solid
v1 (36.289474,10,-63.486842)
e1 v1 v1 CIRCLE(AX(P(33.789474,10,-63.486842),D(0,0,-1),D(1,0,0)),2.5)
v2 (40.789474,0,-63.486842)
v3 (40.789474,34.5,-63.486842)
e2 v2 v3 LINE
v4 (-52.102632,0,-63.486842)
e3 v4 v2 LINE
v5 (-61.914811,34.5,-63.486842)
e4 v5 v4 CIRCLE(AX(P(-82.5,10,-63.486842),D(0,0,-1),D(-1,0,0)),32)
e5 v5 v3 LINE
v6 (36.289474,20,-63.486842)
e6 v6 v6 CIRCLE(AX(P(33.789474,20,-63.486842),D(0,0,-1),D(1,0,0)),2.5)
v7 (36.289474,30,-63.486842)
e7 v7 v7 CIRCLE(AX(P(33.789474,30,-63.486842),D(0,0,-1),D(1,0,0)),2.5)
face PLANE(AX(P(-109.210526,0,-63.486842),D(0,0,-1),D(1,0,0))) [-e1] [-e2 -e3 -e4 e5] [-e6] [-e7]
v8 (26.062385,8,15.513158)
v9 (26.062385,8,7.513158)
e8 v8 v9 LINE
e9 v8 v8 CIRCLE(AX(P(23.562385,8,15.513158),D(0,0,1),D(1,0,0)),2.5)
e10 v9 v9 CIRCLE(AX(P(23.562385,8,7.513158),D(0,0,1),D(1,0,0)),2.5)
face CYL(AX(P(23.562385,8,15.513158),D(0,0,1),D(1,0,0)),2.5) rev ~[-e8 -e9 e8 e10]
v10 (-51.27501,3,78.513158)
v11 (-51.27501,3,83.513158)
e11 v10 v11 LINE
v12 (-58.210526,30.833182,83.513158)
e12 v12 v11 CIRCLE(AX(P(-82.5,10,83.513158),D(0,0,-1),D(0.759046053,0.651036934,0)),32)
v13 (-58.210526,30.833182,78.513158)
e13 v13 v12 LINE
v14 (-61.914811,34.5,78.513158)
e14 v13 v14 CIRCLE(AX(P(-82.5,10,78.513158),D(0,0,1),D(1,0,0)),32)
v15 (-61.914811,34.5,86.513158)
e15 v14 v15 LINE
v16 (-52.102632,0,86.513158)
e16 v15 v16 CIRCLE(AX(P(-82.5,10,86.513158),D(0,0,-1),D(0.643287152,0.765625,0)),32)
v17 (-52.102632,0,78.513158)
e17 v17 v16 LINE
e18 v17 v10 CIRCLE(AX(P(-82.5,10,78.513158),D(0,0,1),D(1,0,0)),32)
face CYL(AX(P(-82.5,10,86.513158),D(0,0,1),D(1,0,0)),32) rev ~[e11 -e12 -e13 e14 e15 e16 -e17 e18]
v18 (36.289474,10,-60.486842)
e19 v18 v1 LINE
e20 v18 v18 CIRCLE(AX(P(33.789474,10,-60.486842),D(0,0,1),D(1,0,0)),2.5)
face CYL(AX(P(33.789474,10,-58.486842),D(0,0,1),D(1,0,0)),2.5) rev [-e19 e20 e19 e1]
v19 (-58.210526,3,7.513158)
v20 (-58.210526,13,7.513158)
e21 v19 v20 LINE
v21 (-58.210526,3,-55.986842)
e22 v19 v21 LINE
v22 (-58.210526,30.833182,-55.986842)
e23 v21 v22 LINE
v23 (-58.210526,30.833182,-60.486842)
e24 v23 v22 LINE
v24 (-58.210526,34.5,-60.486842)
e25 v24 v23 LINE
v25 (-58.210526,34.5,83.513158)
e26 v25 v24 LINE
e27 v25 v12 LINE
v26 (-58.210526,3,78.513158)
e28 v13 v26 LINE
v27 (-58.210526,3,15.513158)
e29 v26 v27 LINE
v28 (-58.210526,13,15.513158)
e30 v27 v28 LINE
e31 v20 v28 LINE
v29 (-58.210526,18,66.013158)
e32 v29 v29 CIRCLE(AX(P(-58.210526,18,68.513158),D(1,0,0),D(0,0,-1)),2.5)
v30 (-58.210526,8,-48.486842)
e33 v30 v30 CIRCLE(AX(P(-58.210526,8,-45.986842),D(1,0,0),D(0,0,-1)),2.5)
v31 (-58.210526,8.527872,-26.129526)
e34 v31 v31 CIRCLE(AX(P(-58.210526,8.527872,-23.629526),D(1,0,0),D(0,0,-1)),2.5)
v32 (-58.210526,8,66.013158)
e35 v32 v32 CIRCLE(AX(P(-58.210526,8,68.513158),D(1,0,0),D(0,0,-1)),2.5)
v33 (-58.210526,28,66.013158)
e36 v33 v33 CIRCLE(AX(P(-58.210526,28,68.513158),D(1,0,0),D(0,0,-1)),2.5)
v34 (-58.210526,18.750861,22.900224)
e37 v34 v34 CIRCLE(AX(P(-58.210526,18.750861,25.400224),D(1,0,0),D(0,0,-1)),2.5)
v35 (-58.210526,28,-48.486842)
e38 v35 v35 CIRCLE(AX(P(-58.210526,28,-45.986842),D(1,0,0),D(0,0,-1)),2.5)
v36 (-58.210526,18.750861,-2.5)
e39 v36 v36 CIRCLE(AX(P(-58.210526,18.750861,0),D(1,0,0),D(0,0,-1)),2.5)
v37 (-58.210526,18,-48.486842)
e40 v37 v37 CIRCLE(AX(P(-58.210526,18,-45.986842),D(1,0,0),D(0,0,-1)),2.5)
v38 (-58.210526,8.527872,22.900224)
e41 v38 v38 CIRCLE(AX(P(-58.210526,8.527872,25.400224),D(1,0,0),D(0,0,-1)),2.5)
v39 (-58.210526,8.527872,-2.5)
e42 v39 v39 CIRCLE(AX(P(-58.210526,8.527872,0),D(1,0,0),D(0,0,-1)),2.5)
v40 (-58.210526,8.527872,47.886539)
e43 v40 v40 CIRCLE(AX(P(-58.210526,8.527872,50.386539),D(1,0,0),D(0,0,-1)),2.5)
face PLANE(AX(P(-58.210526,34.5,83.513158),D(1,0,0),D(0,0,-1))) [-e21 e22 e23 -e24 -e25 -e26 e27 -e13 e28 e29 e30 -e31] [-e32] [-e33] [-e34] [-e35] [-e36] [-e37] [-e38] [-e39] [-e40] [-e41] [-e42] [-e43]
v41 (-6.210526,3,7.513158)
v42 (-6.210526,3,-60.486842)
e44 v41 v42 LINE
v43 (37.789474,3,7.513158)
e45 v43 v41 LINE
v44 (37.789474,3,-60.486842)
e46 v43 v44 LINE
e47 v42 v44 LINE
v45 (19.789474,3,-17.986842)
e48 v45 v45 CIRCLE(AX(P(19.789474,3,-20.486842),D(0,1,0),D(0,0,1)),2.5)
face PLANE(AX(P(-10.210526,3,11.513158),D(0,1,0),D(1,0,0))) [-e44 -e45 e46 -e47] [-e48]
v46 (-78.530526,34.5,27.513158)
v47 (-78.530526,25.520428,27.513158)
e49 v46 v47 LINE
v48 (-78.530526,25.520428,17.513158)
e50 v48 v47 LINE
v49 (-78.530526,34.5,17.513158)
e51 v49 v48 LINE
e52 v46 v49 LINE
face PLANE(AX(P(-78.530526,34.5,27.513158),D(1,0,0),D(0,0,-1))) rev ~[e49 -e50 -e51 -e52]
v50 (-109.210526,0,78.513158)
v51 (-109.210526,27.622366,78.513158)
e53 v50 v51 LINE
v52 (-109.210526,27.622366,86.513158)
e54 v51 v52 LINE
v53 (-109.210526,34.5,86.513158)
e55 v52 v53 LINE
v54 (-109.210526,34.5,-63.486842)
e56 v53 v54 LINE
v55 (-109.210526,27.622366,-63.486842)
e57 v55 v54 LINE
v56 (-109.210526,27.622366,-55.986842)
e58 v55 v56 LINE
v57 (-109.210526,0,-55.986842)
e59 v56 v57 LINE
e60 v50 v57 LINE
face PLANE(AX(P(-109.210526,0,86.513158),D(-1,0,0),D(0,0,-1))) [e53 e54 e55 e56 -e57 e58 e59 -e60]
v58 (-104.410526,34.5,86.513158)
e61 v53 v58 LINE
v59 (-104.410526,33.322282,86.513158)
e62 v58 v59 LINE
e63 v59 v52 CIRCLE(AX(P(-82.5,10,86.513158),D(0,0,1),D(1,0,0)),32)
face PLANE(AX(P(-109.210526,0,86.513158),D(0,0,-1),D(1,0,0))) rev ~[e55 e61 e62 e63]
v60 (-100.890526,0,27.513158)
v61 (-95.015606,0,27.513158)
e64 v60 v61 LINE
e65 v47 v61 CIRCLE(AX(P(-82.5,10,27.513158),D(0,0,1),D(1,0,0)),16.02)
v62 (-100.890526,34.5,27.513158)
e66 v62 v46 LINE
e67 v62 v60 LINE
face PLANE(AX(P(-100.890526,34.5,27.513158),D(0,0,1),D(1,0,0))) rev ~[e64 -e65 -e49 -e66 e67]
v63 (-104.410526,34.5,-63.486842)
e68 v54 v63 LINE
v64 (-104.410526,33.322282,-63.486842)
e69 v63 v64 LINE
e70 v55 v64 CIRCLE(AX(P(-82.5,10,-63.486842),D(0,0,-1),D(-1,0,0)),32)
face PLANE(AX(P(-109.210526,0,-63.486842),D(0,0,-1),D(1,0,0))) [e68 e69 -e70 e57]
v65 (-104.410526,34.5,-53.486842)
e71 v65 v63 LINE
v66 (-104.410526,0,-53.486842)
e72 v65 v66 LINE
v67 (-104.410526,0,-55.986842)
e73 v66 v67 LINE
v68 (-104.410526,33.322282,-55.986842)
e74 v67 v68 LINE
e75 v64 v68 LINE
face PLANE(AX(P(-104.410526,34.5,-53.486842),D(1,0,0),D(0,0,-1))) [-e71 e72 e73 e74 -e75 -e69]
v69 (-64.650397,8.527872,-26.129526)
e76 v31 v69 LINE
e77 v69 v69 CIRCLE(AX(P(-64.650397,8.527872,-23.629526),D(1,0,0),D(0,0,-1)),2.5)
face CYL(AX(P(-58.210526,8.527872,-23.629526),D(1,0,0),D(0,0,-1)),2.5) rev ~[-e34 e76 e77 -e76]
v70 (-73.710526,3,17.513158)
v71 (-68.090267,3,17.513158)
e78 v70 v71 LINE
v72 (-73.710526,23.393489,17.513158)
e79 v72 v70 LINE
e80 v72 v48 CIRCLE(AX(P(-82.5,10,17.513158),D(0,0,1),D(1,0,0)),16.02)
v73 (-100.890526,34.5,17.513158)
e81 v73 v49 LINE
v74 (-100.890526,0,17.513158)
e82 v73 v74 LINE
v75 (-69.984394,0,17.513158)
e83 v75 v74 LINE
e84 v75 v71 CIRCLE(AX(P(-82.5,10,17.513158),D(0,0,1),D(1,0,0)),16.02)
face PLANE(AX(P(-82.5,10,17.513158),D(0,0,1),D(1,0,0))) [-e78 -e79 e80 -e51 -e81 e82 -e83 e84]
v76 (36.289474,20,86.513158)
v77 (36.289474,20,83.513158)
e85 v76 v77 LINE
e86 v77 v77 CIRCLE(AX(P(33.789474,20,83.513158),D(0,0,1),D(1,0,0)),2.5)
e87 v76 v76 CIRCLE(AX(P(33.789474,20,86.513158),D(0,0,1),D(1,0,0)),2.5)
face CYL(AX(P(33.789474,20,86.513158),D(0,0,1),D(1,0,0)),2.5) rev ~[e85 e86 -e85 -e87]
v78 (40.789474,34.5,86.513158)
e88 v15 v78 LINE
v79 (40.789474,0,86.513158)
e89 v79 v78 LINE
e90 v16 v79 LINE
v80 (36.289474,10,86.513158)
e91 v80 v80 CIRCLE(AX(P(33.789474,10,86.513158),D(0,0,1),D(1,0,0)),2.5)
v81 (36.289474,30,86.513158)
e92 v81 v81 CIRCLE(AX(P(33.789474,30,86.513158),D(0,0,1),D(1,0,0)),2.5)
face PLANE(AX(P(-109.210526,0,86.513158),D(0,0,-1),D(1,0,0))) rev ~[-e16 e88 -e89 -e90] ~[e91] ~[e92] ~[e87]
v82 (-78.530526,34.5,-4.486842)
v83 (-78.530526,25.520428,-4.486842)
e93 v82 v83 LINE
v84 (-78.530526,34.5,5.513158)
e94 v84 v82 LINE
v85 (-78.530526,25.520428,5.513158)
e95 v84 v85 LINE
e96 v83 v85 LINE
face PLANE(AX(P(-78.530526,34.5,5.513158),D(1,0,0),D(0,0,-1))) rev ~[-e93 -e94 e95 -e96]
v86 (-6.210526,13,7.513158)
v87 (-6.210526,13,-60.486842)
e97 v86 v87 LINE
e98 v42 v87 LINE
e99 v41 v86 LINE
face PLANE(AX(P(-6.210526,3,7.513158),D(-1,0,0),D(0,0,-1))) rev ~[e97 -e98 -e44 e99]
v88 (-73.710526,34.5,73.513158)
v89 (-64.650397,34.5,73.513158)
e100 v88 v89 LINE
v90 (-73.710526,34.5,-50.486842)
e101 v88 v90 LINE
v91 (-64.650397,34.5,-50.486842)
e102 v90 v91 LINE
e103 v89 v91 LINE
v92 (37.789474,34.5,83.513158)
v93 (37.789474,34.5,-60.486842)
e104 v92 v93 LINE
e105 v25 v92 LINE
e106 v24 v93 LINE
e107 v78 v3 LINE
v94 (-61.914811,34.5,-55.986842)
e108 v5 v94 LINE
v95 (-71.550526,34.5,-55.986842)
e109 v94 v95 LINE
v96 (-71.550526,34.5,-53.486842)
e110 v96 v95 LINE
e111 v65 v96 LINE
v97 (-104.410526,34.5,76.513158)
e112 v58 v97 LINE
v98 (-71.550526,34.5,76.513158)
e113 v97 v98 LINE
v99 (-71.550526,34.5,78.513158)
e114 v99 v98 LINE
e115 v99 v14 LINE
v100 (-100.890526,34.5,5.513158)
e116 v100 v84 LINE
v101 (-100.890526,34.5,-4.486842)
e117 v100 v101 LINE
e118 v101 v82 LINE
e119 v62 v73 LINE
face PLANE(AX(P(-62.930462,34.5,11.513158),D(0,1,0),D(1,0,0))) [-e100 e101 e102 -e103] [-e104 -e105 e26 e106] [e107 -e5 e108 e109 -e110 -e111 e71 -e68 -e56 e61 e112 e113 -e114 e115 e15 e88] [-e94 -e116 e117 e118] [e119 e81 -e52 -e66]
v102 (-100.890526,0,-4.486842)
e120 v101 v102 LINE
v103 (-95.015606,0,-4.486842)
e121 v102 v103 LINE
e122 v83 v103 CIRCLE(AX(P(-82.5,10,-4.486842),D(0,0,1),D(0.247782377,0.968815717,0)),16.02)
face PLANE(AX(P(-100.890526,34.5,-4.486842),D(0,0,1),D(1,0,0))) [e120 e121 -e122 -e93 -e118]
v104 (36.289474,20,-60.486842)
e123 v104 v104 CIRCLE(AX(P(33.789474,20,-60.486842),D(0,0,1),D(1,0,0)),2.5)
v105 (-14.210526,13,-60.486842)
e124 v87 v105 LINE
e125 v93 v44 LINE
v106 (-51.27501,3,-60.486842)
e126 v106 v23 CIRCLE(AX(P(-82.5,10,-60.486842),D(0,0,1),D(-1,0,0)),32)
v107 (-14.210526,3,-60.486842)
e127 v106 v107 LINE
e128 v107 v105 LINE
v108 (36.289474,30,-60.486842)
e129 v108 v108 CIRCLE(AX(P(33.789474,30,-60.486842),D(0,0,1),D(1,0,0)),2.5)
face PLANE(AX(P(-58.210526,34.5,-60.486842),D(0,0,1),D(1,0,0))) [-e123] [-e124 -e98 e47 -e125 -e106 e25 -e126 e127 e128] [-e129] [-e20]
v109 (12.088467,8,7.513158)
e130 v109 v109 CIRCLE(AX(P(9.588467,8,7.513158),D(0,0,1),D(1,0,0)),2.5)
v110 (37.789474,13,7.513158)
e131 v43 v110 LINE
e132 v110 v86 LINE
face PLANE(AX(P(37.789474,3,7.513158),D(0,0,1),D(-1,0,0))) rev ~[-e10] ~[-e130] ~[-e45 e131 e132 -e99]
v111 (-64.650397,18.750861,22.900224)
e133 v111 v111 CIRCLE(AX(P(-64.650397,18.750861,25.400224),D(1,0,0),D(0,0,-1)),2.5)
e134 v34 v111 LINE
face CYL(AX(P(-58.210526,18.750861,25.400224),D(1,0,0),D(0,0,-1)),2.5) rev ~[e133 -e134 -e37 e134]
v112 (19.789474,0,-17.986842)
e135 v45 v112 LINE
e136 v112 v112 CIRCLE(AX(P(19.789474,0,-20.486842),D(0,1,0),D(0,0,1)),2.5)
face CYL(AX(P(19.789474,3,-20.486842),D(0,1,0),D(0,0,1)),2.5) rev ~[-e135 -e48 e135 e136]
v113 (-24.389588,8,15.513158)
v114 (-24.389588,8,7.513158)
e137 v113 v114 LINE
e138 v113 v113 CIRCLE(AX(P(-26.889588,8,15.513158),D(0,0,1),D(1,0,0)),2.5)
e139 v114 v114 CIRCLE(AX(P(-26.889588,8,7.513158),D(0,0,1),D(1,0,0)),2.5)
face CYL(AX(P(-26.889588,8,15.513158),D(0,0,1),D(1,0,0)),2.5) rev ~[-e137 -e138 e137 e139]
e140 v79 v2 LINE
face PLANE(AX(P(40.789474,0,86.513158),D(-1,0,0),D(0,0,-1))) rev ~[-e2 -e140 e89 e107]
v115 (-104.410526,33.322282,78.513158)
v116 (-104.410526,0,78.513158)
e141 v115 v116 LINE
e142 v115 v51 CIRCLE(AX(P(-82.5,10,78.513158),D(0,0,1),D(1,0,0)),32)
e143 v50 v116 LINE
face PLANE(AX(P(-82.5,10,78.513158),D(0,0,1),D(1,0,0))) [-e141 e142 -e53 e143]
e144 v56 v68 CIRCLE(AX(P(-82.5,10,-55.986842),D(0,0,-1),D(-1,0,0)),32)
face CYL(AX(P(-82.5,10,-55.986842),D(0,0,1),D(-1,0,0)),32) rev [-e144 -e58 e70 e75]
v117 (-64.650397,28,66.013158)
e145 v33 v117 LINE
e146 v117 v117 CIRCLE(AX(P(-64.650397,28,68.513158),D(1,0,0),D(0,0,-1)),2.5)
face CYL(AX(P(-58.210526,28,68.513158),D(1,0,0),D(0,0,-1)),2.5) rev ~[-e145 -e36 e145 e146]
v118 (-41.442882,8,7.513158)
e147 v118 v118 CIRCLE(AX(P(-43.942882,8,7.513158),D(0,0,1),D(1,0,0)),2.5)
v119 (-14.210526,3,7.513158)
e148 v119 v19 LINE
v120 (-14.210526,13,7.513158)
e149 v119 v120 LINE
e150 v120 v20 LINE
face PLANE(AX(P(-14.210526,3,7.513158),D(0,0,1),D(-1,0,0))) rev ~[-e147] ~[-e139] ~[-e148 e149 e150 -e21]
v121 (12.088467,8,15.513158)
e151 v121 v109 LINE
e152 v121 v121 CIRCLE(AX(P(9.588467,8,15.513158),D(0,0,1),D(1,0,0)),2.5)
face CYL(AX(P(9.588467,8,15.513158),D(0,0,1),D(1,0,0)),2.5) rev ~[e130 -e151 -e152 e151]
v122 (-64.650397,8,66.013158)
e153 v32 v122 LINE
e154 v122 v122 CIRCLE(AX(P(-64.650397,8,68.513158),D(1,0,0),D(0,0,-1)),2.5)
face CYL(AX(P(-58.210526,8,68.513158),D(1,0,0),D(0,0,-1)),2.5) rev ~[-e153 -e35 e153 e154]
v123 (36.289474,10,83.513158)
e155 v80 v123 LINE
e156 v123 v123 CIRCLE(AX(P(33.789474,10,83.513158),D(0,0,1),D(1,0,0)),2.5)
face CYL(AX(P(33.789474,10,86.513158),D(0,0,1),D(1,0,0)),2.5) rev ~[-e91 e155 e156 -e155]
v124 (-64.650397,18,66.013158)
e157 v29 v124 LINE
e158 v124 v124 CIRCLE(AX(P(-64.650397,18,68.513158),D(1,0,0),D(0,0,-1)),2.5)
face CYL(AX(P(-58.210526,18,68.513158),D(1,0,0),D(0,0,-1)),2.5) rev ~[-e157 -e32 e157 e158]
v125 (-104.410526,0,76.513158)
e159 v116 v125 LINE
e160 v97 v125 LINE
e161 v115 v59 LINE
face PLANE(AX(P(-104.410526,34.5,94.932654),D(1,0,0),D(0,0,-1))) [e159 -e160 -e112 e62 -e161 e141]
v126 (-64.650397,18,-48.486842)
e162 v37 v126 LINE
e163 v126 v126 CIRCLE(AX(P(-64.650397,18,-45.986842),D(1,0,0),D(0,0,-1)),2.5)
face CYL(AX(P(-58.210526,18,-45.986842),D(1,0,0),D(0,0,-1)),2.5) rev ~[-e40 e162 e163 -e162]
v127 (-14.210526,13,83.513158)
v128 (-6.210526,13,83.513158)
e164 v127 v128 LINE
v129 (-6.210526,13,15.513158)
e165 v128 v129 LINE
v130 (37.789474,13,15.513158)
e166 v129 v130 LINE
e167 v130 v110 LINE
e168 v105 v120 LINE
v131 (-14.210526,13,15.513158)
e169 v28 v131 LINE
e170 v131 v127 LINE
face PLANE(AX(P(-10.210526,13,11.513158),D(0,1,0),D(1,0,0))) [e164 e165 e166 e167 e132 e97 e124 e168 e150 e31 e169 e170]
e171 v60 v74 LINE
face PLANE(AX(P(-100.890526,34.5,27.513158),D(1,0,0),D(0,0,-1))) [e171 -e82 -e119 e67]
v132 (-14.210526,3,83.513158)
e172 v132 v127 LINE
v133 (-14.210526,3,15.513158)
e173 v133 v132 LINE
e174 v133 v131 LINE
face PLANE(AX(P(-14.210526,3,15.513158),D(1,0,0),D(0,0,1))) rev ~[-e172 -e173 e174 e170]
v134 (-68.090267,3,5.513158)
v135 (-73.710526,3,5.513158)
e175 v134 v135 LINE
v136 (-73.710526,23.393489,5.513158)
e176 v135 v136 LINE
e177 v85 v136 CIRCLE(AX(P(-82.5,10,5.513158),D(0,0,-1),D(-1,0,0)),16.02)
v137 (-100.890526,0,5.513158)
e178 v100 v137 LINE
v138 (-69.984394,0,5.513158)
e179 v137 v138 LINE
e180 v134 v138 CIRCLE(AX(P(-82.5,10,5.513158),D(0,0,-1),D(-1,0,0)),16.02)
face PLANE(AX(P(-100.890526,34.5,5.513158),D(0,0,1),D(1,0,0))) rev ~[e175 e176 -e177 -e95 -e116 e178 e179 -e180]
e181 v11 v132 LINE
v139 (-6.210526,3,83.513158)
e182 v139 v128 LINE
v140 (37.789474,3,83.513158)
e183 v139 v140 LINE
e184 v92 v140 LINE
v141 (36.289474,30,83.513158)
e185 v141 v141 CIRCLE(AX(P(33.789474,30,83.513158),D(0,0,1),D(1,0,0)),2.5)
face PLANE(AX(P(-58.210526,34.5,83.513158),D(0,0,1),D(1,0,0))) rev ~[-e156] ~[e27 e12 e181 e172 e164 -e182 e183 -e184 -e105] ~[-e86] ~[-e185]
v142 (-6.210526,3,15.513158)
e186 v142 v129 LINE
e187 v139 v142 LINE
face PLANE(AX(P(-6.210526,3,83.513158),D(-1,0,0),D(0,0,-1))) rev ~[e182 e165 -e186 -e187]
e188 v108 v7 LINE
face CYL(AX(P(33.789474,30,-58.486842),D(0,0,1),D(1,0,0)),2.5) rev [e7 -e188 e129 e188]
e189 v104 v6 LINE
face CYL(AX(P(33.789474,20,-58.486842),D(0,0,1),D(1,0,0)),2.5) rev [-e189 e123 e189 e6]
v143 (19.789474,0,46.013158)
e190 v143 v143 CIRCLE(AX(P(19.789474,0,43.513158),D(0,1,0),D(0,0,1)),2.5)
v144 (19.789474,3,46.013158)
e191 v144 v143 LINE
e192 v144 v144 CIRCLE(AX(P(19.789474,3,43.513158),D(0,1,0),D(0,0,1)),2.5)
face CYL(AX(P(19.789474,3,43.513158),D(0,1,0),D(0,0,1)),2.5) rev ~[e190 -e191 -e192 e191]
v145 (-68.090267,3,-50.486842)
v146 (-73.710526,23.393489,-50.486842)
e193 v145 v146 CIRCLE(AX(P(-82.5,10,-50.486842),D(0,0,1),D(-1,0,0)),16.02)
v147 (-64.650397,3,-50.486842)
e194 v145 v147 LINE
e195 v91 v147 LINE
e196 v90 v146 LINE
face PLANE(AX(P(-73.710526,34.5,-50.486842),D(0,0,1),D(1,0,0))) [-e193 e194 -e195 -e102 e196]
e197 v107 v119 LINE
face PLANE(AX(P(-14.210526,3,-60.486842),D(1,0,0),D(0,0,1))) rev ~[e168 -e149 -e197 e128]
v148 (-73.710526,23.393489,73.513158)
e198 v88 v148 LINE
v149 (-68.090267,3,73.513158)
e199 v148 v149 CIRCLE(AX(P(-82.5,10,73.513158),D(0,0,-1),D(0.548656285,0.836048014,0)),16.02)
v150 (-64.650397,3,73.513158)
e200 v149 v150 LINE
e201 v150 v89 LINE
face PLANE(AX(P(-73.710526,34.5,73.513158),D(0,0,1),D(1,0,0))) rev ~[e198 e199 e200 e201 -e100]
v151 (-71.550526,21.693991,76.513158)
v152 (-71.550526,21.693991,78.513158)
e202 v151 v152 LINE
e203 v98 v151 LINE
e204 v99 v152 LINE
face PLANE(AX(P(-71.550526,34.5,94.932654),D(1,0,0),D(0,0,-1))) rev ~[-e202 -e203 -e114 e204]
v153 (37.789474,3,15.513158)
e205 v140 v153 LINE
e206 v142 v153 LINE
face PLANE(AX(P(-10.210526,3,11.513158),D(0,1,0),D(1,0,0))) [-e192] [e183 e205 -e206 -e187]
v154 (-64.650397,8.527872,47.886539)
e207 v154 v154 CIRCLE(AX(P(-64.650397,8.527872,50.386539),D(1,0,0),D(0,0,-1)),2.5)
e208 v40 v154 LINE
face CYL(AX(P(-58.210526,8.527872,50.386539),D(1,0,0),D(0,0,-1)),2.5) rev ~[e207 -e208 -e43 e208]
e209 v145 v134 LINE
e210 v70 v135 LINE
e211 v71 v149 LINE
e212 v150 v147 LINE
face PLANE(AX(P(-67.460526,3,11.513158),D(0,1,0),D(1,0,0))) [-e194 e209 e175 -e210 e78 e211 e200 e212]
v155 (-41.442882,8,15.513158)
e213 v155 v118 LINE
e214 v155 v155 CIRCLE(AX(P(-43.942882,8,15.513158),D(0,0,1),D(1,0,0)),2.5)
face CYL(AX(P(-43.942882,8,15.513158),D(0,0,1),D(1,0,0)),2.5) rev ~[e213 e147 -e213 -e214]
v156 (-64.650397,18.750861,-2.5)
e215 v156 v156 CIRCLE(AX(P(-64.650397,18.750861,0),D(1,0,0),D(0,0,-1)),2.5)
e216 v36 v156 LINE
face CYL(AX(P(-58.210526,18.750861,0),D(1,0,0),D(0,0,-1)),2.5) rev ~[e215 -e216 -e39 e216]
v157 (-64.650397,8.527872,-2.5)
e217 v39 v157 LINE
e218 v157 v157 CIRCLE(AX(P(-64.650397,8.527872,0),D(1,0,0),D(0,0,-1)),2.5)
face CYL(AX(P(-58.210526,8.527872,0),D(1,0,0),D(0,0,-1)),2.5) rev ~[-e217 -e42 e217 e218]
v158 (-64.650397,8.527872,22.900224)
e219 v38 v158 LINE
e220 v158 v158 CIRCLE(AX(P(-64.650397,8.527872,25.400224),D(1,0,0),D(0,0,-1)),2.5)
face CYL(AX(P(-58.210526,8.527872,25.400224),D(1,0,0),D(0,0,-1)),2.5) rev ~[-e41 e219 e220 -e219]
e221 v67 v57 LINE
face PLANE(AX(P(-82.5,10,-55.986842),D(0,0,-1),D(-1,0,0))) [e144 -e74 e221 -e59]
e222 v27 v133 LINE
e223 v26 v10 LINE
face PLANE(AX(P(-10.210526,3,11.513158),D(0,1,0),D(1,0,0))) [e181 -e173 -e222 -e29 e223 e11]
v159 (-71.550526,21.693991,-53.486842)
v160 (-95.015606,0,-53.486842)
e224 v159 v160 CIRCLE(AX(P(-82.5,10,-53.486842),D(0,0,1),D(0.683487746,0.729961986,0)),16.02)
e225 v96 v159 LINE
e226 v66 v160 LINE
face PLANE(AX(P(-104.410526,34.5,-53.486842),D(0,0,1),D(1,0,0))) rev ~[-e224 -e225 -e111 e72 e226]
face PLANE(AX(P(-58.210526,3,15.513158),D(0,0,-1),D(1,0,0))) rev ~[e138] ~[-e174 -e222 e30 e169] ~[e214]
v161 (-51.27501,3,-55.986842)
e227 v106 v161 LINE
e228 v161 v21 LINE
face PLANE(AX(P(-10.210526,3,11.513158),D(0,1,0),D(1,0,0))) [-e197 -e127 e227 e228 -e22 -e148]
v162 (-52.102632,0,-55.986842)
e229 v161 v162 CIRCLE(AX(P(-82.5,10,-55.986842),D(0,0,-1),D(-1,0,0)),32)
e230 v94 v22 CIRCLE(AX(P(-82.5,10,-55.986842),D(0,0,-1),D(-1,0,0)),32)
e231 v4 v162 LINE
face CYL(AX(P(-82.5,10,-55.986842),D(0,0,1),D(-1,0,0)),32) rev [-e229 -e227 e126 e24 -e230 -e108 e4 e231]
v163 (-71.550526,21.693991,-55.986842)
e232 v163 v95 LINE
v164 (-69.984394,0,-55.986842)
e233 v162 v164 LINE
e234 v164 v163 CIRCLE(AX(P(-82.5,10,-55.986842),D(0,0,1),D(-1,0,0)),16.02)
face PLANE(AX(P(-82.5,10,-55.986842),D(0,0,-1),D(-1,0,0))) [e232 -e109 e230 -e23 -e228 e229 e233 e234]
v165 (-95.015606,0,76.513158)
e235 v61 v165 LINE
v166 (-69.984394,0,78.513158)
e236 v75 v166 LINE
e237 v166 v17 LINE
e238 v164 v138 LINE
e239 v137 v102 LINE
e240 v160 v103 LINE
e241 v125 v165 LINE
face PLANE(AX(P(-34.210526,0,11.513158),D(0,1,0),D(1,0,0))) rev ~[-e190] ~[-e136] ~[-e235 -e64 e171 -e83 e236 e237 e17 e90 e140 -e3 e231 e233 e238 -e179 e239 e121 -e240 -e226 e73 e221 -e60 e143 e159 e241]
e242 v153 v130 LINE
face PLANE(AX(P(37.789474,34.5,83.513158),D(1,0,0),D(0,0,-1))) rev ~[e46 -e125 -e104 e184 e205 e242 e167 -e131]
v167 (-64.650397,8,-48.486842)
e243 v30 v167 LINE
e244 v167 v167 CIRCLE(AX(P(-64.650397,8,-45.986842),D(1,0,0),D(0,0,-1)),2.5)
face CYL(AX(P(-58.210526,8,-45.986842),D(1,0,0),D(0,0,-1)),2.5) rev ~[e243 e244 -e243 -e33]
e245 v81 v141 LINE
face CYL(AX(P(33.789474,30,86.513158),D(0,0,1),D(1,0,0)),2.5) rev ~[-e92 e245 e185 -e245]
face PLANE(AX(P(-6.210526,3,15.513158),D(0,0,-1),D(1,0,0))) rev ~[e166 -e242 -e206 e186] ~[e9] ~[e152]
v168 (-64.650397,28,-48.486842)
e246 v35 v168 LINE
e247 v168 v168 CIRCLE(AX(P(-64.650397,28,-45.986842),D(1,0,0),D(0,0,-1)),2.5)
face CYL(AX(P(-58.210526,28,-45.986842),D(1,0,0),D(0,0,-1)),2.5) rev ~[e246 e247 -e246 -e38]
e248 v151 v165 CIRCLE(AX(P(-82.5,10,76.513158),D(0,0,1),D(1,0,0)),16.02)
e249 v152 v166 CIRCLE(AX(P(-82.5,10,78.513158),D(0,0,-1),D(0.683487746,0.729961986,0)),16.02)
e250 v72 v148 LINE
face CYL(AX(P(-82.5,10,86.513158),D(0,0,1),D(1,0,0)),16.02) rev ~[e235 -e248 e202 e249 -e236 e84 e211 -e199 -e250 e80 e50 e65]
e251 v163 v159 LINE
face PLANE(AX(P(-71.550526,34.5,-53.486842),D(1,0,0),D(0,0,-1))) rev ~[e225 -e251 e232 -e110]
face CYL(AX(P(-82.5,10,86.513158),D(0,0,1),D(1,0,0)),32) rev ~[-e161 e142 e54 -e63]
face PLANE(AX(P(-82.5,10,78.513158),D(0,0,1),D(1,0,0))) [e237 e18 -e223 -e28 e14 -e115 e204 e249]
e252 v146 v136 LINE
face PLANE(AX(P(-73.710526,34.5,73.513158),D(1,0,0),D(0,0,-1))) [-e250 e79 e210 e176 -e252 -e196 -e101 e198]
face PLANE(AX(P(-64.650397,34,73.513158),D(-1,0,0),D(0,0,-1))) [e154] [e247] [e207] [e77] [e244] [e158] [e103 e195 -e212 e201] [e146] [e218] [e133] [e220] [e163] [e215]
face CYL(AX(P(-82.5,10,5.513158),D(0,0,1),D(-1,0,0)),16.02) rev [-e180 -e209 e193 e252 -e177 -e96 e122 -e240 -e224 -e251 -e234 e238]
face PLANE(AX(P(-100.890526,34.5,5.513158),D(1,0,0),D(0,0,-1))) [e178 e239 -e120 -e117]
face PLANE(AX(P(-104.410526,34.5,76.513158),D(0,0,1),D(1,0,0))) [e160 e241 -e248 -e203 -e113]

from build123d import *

# Parameters (mm, degrees)
CUBE_W                    = 150
CUBE_H                    = 150
BOSS_EXTRU_1_DEPTH        = 34.5
PAVE_W                    = 96
PAVE_H                    = 144
ENL_V_MAT_EXTRU_1_DEPTH   = 31.5
VIS1_R                    = 2.5
ENL_V_MAT_EXTRU_2_DEPTH   = 5
ENL_V_START               = -5
VIS2_R                    = 2.5
ENL_V_MAT_EXTRU_3_DEPTH   = 5
PAVE_PROCHE_MOTEUR_W      = 12.5
PAVE_PROCHE_MOTEUR_H      = 124
ENL_V_MAT_EXTRU_4_DEPTH   = 31.5
PAVE_ROUE_LIBRE_W         = 32.86
PAVE_ROUE_LIBRE_H         = 15.696676457
PAVE_ROUE_LIBRE_H_2       = 18.419496328
ENL_V_MAT_EXTRU_5_DEPTH   = 36
CABLES_W                  = 22.36
CABLES_H                  = 10
ENL_V_MAT_EXTRU_6_DEPTH   = 36
ROUE_EXT_R                = 32
ENL_V_MAT_EXTRU_7_DEPTH   = 8
ROUE_INTER_R              = 16.02
ENL_V_MAT_EXTRU_8_DEPTH   = 69
ENL_V_START_2             = -7.5
ROUE_EXT2_R               = 32
ENL_V_MAT_EXTRU_9_DEPTH   = 7.5
ENL_V_START_3             = -69
ROUE_INTER2_R             = 16.02
ENL_V_MAT_EXTRU_10_DEPTH  = 69
VIS_MOTEUR_POUR_SUPPORT_R = 2.5
ENL_V_MAT_EXTRU_11_DEPTH  = 10
BOSS_EXTRU_2_DEPTH        = 10
ESQUISSE2_R               = 2.5
ENL_V_MAT_EXTRU_12_DEPTH  = 10
ESQUISSE3_W               = 3.439870431
ESQUISSE3_H               = 124
BOSS_EXTRU_3_DEPTH        = 31
ESQUISSE5_W               = 3.439870431
ESQUISSE5_H               = 124
BOSS_EXTRU_4_DEPTH        = 0.5
ESQUISSE6_R               = 2.5
ENL_V_MAT_EXTRU_13_DEPTH  = 10
ESQUISSE7_R               = 2.5
ENL_V_MAT_EXTRU_14_DEPTH  = 10
ESQUISSE8_R               = 2.5
ENL_V_MAT_EXTRU_15_DEPTH  = 10


with BuildPart() as part:
    # Cube → Boss.-Extru.1 (new body)
    with BuildSketch(Plane(origin=(0, 0, 0), x_dir=(1, 0, 0), z_dir=(0, 1, 0))):
        with Locations((-34.210526316, -11.513157895)):
            Rectangle(CUBE_W, CUBE_H)
    extrude(amount=BOSS_EXTRU_1_DEPTH)

    # Pave → Enlèv. mat.-Extru.1 (cut)
    with BuildSketch(Plane(origin=(0, 34.5, 0), x_dir=(1, 0, 0), z_dir=(0, 1, 0))):
        with Locations((-10.210526316, -11.513157895)):
            Rectangle(PAVE_W, PAVE_H)
    extrude(amount=-ENL_V_MAT_EXTRU_1_DEPTH, mode=Mode.SUBTRACT)

    # Vis1 → Enlèv. mat.-Extru.2 (cut)
    with BuildSketch(Plane.XY.offset(86.513157895)):
        with Locations((33.789473684, 10)):
            Circle(VIS1_R)
        with Locations((33.789473684, 20)):
            Circle(VIS1_R)
        with Locations((33.789473684, 30)):
            Circle(VIS1_R)
    extrude(amount=-ENL_V_MAT_EXTRU_2_DEPTH, mode=Mode.SUBTRACT)

    # Vis2 → Enlèv. mat.-Extru.3 (cut)
    with BuildSketch(Plane(origin=(0, 0, -63.486842105), x_dir=(-1, 0, 0), z_dir=(0, 0, -1)).offset(ENL_V_START)):
        with Locations(Location((-33.789473684, 10, 0), (0, 0, 180))):
            Circle(VIS2_R)
        with Locations(Location((-33.789473684, 20, 0), (0, 0, 180))):
            Circle(VIS2_R)
        with Locations(Location((-33.789473684, 30, 0), (0, 0, 180))):
            Circle(VIS2_R)
    extrude(amount=ENL_V_MAT_EXTRU_3_DEPTH, mode=Mode.SUBTRACT)

    # Pave proche moteur → Enlèv. mat.-Extru.4 (cut)
    with BuildSketch(Plane(origin=(0, 34.5, 0), x_dir=(1, 0, 0), z_dir=(0, 1, 0))):
        with Locations((-67.460526316, -11.513157895)):
            Rectangle(PAVE_PROCHE_MOTEUR_W, PAVE_PROCHE_MOTEUR_H)
    extrude(amount=-ENL_V_MAT_EXTRU_4_DEPTH, mode=Mode.SUBTRACT)

    # Pave Roue libre → Enlèv. mat.-Extru.5 (cut)
    with BuildSketch(Plane(origin=(0, 34.5, 0), x_dir=(1, 0, 0), z_dir=(0, 1, 0))):
        with Locations((-87.980526316, 61.335180334)):
            Rectangle(PAVE_ROUE_LIBRE_W, PAVE_ROUE_LIBRE_H)
        with Locations((-87.980526316, -85.722906059)):
            Rectangle(PAVE_ROUE_LIBRE_W, PAVE_ROUE_LIBRE_H_2)
    extrude(amount=-ENL_V_MAT_EXTRU_5_DEPTH, mode=Mode.SUBTRACT)

    # Cables → Enlèv. mat.-Extru.6 (cut)
    with BuildSketch(Plane(origin=(0, 34.5, 0), x_dir=(1, 0, 0), z_dir=(0, 1, 0))):
        with Locations((-89.710526316, -0.513157895)):
            Rectangle(CABLES_W, CABLES_H)
        with Locations((-89.710526316, -22.513157895)):
            Rectangle(CABLES_W, CABLES_H)
    extrude(amount=-ENL_V_MAT_EXTRU_6_DEPTH, mode=Mode.SUBTRACT)

    # Roue ext → Enlèv. mat.-Extru.7 (cut)
    with BuildSketch(Plane.XY.offset(86.513157895)):
        with Locations((-82.5, 10)):
            Circle(ROUE_EXT_R)
    extrude(amount=-ENL_V_MAT_EXTRU_7_DEPTH, mode=Mode.SUBTRACT)

    # Roue inter → Enlèv. mat.-Extru.8 (cut)
    with BuildSketch(Plane.XY.offset(86.513157895)):
        with Locations((-82.5, 10)):
            Circle(ROUE_INTER_R)
    extrude(amount=-ENL_V_MAT_EXTRU_8_DEPTH, mode=Mode.SUBTRACT)

    # Roue ext2 → Enlèv. mat.-Extru.9 (cut)
    with BuildSketch(Plane(origin=(0, 0, -63.486842105), x_dir=(-1, 0, 0), z_dir=(0, 0, -1)).offset(ENL_V_START_2)):
        with Locations((82.5, 10)):
            Circle(ROUE_EXT2_R)
    extrude(amount=ENL_V_MAT_EXTRU_9_DEPTH, mode=Mode.SUBTRACT)

    # Roue inter2 → Enlèv. mat.-Extru.10 (cut)
    with BuildSketch(Plane(origin=(0, 0, -63.486842105), x_dir=(-1, 0, 0), z_dir=(0, 0, -1)).offset(ENL_V_START_3)):
        with Locations((82.5, 10)):
            Circle(ROUE_INTER2_R)
    extrude(amount=ENL_V_MAT_EXTRU_10_DEPTH, mode=Mode.SUBTRACT)

    # Vis Moteur pour support → Enlèv. mat.-Extru.11 (cut)
    with BuildSketch(Plane(origin=(-58.210526316, 0, 0), x_dir=(0, 0, -1), z_dir=(1, 0, 0))):
        with Locations((-68.513157895, 8)):
            Circle(VIS_MOTEUR_POUR_SUPPORT_R)
        with Locations((-68.513157895, 18)):
            Circle(VIS_MOTEUR_POUR_SUPPORT_R)
        with Locations((-68.513157895, 28)):
            Circle(VIS_MOTEUR_POUR_SUPPORT_R)
        with Locations((45.986842105, 8)):
            Circle(VIS_MOTEUR_POUR_SUPPORT_R)
        with Locations((45.986842105, 18)):
            Circle(VIS_MOTEUR_POUR_SUPPORT_R)
        with Locations((45.986842105, 28)):
            Circle(VIS_MOTEUR_POUR_SUPPORT_R)
    extrude(amount=-ENL_V_MAT_EXTRU_11_DEPTH, mode=Mode.SUBTRACT)

    # Esquisse1 → Boss.-Extru.2 (add)
    with BuildSketch(Plane(origin=(0, 3, 0), x_dir=(1, 0, 0), z_dir=(0, 1, 0))):
        Polygon((-58.210526316, -15.513157895), (-14.210526316, -15.513157895), (-14.210526316, -83.513157895), (-6.210526316, -83.513157895), (-6.210526316, -15.513157895), (37.789473684, -15.513157895), (37.789473684, -7.513157895), (-6.210526316, -7.513157895), (-6.210526316, 60.486842105), (-14.210526316, 60.486842105), (-14.210526316, -7.513157895), (-58.210526316, -7.513157895), align=None)
    extrude(amount=BOSS_EXTRU_2_DEPTH)

    # Esquisse2 → Enlèv. mat.-Extru.12 (cut)
    with BuildSketch(Plane.XY.offset(15.513157895)):
        with Locations((-43.942882256, 8)):
            Circle(ESQUISSE2_R)
        with Locations((-26.88958752, 8)):
            Circle(ESQUISSE2_R)
        with Locations((9.588466595, 8)):
            Circle(ESQUISSE2_R)
        with Locations((23.56238511, 8)):
            Circle(ESQUISSE2_R)
    extrude(amount=-ENL_V_MAT_EXTRU_12_DEPTH, mode=Mode.SUBTRACT)

    # Esquisse3 → Boss.-Extru.3 (add)
    with BuildSketch(Plane(origin=(0, 3, 0), x_dir=(1, 0, 0), z_dir=(0, 1, 0))):
        with Locations((-62.930461532, -11.513157895)):
            Rectangle(ESQUISSE3_W, ESQUISSE3_H)
    extrude(amount=BOSS_EXTRU_3_DEPTH)

    # Esquisse5 → Boss.-Extru.4 (add)
    with BuildSketch(Plane(origin=(0, 34, 0), x_dir=(1, 0, 0), z_dir=(0, 1, 0))):
        with Locations((-62.930461532, -11.513157895)):
            Rectangle(ESQUISSE5_W, ESQUISSE5_H)
    extrude(amount=BOSS_EXTRU_4_DEPTH)

    # Esquisse6 → Enlèv. mat.-Extru.13 (cut)
    with BuildSketch(Plane(origin=(-58.210526316, 0, 0), x_dir=(0, 0, -1), z_dir=(1, 0, 0))):
        with Locations((-68.513157895, 28)):
            Circle(ESQUISSE6_R)
        with Locations((-68.513157895, 18)):
            Circle(ESQUISSE6_R)
        with Locations((-68.513157895, 8)):
            Circle(ESQUISSE6_R)
        with Locations((45.986842105, 28)):
            Circle(ESQUISSE6_R)
        with Locations((45.986842105, 18)):
            Circle(ESQUISSE6_R)
        with Locations((45.986842105, 8)):
            Circle(ESQUISSE6_R)
    extrude(amount=-ENL_V_MAT_EXTRU_13_DEPTH, mode=Mode.SUBTRACT)

    # Esquisse7 → Enlèv. mat.-Extru.14 (cut)
    with BuildSketch(Plane(origin=(-58.210526316, 0, 0), x_dir=(0, 0, -1), z_dir=(1, 0, 0))):
        with Locations((0, 8.527871685)):
            Circle(ESQUISSE7_R)
        with Locations((0, 18.750861141)):
            Circle(ESQUISSE7_R)
        with Locations((-25.400224022, 8.527871685)):
            Circle(ESQUISSE7_R)
        with Locations((-25.400224022, 18.750861141)):
            Circle(ESQUISSE7_R)
        with Locations((-50.386538843, 8.527871685)):
            Circle(ESQUISSE7_R)
        with Locations((23.629525814, 8.527871685)):
            Circle(ESQUISSE7_R)
    extrude(amount=-ENL_V_MAT_EXTRU_14_DEPTH, mode=Mode.SUBTRACT)

    # Esquisse8 → Enlèv. mat.-Extru.15 (cut)
    with BuildSketch(Plane(origin=(0, 3, 0), x_dir=(1, 0, 0), z_dir=(0, 1, 0))):
        with Locations(Location((19.789473684, -43.513157895, 0), (0, 0, 270))):
            Circle(ESQUISSE8_R)
        with Locations(Location((19.789473684, 20.486842105, 0), (0, 0, 270))):
            Circle(ESQUISSE8_R)
    extrude(amount=-ENL_V_MAT_EXTRU_15_DEPTH, mode=Mode.SUBTRACT)


solid = part.part
